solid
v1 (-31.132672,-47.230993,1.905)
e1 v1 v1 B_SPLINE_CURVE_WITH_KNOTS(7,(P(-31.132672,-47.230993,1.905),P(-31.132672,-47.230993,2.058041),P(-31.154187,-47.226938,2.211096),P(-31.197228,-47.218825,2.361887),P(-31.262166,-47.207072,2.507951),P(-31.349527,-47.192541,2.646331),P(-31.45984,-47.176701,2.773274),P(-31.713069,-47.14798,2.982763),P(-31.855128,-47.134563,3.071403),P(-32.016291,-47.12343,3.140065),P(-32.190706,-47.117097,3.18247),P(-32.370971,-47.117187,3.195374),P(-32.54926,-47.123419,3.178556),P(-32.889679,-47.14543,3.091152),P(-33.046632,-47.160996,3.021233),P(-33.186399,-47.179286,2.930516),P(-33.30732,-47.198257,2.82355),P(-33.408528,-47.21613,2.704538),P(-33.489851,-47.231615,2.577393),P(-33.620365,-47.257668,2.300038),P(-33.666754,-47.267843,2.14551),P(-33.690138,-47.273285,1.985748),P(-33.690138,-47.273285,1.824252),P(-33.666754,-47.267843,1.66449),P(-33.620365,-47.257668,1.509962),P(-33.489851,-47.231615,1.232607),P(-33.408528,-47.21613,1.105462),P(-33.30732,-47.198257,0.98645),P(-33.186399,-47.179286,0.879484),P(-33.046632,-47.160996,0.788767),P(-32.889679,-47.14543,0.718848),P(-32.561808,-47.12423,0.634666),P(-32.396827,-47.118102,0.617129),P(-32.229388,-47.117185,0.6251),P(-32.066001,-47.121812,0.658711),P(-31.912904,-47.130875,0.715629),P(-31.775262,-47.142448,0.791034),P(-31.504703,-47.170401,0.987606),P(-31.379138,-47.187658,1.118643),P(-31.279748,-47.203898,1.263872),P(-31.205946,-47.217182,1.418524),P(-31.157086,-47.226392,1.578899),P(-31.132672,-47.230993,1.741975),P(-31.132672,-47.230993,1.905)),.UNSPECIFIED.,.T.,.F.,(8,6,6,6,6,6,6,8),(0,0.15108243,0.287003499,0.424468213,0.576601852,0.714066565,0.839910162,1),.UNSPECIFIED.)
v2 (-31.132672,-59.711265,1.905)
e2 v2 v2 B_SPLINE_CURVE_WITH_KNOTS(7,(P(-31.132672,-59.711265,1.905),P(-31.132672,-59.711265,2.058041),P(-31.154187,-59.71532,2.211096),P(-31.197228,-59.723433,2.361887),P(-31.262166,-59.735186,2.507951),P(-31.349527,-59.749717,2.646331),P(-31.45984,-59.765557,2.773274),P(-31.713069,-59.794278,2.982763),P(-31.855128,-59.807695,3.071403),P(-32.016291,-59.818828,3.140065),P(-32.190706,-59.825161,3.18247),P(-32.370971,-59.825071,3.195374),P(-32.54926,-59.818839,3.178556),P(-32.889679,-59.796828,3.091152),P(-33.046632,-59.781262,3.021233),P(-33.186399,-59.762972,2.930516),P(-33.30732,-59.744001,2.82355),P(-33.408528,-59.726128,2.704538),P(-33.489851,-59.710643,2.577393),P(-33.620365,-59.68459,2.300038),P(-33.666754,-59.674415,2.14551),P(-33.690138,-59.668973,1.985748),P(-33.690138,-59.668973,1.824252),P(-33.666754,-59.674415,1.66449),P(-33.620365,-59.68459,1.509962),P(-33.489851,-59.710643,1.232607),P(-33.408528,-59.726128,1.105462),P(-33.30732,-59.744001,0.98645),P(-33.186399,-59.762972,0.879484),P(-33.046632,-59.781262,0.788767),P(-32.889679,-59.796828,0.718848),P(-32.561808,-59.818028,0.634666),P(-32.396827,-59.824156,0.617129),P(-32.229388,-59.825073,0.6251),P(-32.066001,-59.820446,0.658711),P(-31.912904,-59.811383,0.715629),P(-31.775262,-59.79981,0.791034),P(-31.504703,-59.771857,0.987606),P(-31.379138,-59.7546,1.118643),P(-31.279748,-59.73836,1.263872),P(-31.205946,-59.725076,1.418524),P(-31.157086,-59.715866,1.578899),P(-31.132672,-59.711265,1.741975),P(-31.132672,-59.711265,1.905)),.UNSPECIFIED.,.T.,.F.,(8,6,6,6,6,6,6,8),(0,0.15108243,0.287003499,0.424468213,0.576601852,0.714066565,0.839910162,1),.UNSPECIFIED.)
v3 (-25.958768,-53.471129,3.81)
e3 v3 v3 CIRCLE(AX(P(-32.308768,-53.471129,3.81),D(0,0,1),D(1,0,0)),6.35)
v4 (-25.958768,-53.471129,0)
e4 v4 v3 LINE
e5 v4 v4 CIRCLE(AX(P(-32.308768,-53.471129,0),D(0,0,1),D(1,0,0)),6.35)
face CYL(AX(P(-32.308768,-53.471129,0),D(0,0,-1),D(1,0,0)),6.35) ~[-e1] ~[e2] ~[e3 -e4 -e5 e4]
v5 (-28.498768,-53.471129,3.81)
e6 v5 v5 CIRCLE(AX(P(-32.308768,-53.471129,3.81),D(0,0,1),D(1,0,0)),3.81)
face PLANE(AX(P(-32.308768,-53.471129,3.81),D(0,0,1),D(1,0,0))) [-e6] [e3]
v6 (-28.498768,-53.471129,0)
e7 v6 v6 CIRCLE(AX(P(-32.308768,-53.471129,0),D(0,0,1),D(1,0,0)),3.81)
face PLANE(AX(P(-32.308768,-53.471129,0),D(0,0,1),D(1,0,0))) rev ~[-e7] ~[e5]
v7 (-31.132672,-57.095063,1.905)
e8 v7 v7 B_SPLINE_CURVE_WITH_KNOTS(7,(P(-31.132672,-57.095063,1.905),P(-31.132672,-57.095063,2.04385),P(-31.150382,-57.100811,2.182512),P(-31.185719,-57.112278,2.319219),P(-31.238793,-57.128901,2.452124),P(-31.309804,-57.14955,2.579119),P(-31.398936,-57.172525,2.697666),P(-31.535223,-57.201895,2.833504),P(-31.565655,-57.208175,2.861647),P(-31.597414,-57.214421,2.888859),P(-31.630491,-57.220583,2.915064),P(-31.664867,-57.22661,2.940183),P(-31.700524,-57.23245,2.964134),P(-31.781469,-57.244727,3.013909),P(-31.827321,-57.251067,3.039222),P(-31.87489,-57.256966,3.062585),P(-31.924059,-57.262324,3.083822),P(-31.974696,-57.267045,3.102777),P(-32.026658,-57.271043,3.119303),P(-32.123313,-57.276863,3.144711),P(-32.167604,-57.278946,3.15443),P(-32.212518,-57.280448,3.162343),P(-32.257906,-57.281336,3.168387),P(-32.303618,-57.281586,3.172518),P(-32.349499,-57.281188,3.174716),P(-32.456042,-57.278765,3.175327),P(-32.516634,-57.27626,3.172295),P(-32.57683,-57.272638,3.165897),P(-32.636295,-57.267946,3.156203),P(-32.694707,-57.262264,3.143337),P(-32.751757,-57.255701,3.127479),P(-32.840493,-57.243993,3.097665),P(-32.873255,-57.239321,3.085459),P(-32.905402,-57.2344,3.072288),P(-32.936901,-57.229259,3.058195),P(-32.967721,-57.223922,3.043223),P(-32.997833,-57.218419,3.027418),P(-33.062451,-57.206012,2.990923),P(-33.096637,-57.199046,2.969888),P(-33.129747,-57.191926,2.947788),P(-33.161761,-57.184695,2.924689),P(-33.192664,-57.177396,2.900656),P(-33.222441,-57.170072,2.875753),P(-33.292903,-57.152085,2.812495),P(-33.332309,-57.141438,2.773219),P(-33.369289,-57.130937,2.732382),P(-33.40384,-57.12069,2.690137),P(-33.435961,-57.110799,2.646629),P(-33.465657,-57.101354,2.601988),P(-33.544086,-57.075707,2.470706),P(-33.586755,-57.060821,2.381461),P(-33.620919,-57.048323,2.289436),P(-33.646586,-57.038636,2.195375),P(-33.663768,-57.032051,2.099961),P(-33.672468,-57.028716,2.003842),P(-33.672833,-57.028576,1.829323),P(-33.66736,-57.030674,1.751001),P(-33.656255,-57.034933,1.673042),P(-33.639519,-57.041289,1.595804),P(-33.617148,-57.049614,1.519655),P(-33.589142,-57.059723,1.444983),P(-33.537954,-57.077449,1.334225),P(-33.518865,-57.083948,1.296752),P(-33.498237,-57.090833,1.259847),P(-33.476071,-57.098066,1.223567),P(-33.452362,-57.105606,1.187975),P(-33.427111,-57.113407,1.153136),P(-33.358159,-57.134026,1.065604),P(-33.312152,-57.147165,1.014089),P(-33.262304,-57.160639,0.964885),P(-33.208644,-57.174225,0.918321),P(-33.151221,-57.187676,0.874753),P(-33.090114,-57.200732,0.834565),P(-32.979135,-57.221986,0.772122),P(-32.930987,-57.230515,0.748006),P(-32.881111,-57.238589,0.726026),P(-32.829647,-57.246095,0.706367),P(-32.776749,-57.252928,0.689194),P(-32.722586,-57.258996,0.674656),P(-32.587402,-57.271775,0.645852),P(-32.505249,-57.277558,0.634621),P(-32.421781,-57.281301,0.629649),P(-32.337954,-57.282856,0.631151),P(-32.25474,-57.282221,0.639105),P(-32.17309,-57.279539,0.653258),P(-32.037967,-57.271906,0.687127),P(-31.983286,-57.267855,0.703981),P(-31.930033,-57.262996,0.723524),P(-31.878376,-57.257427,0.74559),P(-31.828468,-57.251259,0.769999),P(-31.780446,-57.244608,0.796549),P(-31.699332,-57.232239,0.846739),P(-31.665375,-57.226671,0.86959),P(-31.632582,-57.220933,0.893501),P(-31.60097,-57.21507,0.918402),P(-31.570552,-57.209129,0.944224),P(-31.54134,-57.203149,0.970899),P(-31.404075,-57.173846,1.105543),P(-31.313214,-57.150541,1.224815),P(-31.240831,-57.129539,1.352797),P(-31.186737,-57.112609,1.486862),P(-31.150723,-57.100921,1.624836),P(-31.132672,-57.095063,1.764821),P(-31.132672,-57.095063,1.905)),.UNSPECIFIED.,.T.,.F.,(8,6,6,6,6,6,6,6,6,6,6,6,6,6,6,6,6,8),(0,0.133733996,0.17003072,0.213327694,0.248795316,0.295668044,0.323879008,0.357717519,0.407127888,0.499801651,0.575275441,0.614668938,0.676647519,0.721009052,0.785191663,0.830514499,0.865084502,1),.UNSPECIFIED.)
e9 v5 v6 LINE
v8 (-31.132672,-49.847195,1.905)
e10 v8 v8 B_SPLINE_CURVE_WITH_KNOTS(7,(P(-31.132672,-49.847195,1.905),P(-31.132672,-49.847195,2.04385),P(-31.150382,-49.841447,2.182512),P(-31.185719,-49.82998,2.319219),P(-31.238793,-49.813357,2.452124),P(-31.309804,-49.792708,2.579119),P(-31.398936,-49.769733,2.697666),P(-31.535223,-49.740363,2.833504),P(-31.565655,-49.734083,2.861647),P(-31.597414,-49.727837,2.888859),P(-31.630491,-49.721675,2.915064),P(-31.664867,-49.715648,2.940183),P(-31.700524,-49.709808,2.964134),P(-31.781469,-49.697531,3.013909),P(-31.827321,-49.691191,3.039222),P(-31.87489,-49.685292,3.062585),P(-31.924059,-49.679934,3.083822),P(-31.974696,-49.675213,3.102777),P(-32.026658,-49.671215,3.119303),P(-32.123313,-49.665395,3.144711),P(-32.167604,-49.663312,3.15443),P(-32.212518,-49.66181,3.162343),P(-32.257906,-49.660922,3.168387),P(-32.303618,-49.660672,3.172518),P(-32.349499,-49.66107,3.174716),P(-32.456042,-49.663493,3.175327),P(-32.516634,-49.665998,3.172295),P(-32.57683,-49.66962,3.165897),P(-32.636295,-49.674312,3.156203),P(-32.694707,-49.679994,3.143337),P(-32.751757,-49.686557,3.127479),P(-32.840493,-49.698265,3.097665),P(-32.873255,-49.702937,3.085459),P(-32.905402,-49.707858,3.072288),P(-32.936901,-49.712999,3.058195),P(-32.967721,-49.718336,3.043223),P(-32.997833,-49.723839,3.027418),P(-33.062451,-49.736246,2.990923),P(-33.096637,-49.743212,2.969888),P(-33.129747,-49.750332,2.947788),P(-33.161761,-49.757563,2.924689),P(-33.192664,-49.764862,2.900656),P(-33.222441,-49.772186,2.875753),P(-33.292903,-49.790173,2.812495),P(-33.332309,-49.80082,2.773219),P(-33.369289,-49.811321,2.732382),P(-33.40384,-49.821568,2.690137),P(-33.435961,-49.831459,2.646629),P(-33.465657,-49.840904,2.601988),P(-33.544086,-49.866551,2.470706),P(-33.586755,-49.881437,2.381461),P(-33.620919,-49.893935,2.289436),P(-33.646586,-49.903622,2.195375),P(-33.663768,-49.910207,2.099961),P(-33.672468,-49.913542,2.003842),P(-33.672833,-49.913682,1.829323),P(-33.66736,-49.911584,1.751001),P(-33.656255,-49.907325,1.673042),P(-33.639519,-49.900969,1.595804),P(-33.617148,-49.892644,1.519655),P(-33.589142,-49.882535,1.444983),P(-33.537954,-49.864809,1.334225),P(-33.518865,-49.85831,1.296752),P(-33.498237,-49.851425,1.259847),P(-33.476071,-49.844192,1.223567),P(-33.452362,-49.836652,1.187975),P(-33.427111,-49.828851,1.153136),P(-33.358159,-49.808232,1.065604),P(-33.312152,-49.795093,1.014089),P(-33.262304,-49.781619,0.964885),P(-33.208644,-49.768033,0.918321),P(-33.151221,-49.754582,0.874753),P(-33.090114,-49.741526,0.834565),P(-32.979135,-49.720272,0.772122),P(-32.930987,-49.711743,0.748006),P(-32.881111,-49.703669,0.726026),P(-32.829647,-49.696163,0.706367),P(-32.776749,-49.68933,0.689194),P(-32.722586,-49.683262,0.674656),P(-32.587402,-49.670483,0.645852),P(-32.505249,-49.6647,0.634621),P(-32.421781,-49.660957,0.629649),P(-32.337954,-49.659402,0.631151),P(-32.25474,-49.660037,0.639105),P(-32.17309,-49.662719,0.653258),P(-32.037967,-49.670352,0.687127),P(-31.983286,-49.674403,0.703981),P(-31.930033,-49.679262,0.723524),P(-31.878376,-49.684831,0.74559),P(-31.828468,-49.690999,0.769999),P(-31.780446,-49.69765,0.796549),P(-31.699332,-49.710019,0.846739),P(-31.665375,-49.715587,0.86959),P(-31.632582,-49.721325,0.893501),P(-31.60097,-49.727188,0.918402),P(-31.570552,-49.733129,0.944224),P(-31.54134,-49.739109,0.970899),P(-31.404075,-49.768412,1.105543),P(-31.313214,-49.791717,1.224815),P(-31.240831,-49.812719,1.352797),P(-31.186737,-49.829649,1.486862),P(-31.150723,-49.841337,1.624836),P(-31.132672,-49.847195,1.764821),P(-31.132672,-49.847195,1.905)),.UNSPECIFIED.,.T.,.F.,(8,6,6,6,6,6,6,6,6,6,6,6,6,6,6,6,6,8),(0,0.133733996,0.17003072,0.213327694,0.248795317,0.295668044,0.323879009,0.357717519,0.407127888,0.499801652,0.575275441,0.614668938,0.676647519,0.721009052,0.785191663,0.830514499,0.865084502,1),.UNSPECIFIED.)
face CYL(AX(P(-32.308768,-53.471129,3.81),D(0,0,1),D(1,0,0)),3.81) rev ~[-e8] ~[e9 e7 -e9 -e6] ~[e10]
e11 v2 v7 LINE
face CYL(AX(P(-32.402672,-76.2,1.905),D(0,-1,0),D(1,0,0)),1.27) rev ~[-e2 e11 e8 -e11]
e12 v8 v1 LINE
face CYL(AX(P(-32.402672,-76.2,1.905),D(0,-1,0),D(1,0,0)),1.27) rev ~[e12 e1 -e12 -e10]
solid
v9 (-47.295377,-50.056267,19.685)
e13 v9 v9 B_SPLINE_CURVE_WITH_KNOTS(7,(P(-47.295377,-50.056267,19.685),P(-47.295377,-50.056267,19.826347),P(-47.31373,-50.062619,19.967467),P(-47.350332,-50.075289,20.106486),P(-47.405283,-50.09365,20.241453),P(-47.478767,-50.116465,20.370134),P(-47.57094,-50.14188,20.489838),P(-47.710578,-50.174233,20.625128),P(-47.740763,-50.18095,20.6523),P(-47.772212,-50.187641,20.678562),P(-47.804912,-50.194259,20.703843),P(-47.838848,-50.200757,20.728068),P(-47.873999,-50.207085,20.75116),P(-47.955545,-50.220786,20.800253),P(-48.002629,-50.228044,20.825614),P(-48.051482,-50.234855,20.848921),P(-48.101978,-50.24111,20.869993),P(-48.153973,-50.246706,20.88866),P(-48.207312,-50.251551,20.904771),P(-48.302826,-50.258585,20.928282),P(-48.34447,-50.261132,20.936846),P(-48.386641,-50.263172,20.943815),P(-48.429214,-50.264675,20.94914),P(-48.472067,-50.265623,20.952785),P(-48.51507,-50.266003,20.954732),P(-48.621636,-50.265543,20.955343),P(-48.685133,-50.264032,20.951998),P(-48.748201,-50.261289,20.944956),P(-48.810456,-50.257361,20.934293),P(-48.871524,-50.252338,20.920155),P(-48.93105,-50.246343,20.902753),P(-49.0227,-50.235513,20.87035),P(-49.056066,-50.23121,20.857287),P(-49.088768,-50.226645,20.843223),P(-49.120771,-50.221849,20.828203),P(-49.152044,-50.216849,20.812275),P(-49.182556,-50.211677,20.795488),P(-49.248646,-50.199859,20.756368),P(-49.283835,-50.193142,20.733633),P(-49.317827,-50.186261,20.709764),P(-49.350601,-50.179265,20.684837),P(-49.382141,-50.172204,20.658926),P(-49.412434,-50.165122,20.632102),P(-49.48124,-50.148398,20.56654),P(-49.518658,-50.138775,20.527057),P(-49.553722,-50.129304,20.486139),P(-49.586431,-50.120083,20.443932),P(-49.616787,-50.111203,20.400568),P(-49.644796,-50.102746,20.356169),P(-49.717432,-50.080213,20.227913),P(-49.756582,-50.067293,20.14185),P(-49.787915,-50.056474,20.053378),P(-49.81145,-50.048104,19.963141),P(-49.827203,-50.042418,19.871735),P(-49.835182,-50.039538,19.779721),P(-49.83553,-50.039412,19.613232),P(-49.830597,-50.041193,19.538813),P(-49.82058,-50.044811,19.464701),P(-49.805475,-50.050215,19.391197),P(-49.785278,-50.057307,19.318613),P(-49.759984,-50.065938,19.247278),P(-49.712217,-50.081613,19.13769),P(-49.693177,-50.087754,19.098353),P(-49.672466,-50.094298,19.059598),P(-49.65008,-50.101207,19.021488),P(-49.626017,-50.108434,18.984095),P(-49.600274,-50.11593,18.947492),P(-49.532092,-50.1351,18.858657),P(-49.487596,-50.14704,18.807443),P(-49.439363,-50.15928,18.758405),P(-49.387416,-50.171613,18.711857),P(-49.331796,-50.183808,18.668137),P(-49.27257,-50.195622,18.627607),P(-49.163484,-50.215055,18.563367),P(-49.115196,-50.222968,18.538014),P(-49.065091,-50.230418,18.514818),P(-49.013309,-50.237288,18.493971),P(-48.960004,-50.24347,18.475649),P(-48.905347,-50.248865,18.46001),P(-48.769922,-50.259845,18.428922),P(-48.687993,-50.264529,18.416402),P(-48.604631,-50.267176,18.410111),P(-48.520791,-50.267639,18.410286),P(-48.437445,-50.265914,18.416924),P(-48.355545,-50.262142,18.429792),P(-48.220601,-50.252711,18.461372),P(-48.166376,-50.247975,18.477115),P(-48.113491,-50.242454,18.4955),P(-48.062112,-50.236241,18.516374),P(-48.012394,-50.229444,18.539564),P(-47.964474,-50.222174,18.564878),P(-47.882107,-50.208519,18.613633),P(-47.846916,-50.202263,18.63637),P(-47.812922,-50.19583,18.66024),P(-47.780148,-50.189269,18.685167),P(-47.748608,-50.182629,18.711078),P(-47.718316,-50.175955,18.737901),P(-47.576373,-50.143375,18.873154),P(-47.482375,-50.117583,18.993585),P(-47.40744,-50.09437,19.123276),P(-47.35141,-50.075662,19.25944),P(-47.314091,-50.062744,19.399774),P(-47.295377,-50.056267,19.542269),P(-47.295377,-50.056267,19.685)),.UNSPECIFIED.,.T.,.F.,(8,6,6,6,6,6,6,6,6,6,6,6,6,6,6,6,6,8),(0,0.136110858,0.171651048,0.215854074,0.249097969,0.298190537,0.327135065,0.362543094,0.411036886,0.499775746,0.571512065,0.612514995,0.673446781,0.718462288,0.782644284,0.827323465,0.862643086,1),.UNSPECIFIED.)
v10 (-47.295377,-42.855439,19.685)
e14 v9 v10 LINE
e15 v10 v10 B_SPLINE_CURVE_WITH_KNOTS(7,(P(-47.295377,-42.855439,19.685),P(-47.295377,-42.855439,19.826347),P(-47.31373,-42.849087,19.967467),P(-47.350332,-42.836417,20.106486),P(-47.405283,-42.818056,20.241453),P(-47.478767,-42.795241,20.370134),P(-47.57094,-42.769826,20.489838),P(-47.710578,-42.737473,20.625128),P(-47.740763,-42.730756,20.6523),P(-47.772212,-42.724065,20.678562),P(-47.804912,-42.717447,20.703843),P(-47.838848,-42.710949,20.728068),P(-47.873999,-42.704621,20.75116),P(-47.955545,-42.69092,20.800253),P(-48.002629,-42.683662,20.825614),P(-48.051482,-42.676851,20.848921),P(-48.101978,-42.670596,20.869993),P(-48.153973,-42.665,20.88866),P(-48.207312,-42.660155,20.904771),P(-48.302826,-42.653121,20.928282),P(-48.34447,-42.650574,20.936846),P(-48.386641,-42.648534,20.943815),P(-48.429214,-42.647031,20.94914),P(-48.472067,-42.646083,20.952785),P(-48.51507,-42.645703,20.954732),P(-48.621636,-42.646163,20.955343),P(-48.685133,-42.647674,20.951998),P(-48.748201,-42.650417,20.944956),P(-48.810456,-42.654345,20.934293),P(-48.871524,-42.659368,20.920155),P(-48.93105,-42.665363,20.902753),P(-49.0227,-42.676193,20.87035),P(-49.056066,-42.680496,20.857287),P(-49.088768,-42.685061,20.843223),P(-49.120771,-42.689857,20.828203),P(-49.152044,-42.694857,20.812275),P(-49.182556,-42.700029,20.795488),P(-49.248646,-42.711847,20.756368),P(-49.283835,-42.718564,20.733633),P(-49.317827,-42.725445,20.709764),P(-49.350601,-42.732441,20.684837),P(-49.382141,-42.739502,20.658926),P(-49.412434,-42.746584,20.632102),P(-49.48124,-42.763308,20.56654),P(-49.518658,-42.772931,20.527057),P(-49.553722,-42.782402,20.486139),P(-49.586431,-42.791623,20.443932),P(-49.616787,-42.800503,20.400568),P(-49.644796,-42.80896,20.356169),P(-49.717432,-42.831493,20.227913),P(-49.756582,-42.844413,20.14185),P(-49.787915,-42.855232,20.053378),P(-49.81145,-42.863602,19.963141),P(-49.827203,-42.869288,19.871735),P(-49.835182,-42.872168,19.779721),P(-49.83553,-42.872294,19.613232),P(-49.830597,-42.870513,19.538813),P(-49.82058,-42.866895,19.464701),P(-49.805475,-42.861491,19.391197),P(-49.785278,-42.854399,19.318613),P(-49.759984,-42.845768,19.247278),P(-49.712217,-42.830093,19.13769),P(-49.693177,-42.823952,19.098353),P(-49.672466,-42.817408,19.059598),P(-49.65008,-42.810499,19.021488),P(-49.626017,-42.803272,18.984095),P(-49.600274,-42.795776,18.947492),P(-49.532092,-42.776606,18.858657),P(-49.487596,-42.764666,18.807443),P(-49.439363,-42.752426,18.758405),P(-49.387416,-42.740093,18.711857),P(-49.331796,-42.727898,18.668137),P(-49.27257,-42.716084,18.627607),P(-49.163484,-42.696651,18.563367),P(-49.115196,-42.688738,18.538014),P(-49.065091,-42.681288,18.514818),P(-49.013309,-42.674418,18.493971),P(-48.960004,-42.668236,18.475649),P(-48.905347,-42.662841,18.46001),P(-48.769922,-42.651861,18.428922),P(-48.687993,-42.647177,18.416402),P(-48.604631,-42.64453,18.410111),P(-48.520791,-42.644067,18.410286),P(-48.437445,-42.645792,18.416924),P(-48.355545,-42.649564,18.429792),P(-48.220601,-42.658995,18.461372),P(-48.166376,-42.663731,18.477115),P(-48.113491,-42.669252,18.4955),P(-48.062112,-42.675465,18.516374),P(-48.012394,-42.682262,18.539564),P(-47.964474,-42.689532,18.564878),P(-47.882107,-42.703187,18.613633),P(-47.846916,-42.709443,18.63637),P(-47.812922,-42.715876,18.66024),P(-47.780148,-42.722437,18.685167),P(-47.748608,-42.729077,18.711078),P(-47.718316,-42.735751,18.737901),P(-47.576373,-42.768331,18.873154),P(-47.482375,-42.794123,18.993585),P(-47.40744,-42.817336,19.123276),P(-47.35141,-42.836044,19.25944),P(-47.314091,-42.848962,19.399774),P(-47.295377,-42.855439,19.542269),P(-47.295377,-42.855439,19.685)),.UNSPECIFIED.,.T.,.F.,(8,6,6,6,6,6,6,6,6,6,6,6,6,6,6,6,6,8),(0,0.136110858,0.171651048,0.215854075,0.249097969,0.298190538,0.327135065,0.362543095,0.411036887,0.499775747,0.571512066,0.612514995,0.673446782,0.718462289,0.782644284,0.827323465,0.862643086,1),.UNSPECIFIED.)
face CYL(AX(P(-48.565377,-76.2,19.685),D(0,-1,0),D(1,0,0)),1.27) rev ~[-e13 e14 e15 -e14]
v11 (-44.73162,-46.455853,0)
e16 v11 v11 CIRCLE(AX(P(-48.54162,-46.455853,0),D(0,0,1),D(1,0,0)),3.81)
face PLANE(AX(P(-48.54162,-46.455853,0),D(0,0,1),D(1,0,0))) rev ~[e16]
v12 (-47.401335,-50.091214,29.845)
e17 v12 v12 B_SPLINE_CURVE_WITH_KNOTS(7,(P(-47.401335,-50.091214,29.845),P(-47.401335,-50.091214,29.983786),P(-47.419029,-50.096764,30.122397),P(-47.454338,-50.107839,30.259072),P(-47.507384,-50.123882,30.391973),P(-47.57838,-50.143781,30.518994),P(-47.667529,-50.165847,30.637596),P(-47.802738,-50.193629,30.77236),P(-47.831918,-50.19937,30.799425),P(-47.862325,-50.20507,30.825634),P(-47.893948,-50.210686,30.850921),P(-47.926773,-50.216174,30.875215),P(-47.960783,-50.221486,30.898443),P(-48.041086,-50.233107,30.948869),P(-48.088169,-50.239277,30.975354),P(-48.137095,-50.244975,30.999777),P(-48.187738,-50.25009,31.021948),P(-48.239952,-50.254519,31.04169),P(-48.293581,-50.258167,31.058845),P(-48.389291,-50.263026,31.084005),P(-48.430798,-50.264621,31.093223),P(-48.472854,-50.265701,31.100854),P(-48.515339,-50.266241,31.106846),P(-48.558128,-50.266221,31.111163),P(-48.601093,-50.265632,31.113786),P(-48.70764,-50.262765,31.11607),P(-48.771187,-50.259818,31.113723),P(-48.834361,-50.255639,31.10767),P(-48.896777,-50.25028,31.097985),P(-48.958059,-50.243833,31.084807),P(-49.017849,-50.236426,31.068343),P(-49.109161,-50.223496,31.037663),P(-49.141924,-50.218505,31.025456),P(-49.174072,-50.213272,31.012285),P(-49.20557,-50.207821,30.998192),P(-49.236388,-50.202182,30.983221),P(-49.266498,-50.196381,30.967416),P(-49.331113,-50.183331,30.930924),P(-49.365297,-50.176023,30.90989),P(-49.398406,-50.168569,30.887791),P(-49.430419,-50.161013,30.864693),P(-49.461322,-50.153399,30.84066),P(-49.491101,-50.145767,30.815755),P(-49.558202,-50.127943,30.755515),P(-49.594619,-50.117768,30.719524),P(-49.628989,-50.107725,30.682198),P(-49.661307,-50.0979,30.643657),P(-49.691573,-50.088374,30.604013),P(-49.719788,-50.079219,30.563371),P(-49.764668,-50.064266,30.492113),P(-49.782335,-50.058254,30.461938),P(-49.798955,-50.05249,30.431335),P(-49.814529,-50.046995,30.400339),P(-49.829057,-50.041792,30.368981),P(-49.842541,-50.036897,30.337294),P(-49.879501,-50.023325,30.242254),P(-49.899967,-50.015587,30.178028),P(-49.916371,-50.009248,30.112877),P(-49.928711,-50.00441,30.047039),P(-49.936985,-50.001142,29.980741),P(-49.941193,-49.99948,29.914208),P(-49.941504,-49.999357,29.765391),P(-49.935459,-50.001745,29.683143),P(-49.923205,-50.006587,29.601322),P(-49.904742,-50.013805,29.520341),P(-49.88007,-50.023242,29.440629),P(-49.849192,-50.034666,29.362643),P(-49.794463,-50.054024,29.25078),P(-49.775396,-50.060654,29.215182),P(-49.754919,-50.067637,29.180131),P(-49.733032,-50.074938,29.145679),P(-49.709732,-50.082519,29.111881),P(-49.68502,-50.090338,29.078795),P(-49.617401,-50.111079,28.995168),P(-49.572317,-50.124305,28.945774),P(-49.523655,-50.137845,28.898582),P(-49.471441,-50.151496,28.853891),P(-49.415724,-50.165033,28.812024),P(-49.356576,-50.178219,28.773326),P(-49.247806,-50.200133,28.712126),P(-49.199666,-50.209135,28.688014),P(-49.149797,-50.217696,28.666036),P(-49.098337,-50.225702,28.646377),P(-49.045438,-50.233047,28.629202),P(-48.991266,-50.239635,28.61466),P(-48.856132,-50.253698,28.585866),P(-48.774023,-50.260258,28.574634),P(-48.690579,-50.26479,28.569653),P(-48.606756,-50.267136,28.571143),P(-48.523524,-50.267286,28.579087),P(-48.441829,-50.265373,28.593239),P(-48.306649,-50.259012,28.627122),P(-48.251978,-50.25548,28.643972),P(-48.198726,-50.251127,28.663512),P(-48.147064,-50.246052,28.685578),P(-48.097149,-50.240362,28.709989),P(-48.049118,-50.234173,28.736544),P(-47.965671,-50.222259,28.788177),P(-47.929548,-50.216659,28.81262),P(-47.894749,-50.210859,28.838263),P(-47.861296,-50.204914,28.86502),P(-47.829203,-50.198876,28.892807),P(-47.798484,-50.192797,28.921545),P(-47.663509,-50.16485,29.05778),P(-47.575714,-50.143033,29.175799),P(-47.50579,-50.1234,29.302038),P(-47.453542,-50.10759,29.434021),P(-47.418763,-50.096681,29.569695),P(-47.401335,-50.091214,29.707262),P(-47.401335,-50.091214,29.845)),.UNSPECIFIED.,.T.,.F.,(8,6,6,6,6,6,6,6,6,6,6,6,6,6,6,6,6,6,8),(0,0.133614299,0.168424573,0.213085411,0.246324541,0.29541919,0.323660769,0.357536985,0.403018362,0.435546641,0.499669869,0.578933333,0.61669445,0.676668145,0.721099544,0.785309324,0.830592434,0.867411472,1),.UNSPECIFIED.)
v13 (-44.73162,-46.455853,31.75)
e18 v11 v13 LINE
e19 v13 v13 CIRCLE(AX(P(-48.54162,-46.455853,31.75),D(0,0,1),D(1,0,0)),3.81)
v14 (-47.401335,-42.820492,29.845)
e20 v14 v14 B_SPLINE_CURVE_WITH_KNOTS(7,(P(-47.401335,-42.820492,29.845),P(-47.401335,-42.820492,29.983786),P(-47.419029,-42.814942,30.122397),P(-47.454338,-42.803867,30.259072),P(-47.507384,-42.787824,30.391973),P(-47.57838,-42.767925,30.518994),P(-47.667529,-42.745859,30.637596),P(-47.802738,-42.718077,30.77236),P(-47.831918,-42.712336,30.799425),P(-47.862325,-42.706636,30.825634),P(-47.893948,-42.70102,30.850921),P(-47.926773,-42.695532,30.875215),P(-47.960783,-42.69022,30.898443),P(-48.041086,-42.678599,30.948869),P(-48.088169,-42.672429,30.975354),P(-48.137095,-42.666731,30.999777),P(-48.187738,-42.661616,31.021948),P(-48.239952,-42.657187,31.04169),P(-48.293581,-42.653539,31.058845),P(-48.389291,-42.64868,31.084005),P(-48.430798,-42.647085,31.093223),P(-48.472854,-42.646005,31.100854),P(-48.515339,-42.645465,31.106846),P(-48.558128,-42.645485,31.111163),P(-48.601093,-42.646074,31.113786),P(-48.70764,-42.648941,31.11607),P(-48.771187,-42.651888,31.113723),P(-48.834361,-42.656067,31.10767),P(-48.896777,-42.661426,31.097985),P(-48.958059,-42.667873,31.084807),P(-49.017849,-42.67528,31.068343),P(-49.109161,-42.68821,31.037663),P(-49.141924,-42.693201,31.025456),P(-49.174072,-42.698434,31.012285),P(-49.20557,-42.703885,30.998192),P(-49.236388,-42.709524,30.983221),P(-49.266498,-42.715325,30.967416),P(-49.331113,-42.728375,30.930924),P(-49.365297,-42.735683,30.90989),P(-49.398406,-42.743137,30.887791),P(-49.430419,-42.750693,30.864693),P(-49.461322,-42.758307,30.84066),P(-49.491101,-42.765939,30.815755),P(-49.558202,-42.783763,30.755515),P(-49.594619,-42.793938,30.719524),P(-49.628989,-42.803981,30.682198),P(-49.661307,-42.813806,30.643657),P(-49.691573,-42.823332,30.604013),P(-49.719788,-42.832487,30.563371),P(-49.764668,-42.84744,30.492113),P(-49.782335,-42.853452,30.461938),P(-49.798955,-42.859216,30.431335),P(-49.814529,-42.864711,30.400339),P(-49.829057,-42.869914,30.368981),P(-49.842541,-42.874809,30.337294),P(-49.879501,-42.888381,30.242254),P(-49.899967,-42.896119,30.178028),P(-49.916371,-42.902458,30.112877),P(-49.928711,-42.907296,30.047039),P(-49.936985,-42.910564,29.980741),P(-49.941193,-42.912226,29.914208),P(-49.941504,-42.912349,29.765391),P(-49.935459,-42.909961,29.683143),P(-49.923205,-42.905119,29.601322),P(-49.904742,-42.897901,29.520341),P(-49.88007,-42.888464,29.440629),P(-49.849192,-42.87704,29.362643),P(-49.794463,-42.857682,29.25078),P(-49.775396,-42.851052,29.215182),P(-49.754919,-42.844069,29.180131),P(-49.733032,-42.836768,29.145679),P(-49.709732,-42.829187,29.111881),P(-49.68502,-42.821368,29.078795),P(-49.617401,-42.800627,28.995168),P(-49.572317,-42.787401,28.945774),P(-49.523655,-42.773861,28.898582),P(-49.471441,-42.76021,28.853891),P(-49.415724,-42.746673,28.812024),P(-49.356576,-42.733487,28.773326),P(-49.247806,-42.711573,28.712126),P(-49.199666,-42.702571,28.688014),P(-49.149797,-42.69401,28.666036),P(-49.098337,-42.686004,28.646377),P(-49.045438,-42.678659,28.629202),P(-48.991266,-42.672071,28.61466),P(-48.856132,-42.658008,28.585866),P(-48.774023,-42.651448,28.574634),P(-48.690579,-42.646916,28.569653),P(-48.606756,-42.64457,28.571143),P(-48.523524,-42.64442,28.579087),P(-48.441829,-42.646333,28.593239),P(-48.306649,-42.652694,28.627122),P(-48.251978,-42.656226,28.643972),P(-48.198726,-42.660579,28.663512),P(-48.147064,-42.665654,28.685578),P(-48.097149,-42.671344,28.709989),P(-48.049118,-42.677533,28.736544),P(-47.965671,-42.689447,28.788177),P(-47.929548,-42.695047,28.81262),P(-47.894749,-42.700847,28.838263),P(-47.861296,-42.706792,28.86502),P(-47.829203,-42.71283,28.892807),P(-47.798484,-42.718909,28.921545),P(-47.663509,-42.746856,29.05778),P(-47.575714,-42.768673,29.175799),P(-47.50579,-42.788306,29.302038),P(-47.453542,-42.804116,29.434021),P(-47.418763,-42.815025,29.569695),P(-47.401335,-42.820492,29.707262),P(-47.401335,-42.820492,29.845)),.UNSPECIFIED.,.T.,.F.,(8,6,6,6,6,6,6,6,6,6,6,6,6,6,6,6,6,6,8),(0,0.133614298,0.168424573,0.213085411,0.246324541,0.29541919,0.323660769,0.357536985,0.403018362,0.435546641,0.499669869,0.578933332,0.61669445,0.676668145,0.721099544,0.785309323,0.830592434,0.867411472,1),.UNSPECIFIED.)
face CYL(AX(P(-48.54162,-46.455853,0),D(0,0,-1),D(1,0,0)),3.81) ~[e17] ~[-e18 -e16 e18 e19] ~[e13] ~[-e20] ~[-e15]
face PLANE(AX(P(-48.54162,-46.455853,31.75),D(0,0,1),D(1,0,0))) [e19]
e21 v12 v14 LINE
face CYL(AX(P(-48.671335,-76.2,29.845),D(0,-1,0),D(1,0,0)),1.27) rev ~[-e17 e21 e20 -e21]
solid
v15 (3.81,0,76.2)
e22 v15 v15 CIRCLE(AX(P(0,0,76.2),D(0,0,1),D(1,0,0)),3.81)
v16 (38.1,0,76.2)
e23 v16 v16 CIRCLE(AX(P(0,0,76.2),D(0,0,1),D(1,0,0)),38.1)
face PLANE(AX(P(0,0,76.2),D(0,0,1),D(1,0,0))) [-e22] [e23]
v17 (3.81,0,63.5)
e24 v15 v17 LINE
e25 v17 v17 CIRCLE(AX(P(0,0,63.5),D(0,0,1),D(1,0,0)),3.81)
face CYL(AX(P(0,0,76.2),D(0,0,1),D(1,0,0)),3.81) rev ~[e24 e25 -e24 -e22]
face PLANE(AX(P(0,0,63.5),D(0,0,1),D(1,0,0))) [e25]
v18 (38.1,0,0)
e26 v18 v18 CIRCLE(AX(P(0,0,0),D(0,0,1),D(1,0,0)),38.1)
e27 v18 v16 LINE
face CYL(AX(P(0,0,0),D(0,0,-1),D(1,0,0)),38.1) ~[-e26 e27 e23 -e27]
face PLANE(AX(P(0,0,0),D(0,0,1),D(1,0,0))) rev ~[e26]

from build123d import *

# Parameters (mm, degrees)
F0_R      = 38.1
F1_DEPTH  = 76.2
F2_R      = 3.81
F3_DEPTH  = 12.7
F4_R      = 3.81
F5_DEPTH  = 31.75
F6_R      = 6.35
F7_DEPTH  = 3.81
F8_R      = 3.81
F9_DEPTH  = 5.08
F11_R     = 1.27
F12_DEPTH = 38.1
F13_R     = 1.27
F15_DEPTH = 38.1
F14_R     = 1.27
F16_DEPTH = 38.1


with BuildPart() as f1:
    # F0 (on Top) → F1 (new body)
    with BuildSketch(Plane.XY):
        Circle(F0_R)
    extrude(amount=F1_DEPTH)

    # F2 (on face) → F3 (cut)
    with BuildSketch(Plane.XY.offset(76.2)):
        Circle(F2_R)
    extrude(amount=-F3_DEPTH, mode=Mode.SUBTRACT)


with BuildPart() as f5:
    # F4 (on Top) → F5 (new body)
    with BuildSketch(Plane.XY):
        with Locations((-48.54162, -46.455853)):
            Circle(F4_R)
    extrude(amount=F5_DEPTH)

    # F13 (on offset) → F15 (cut)
    with BuildSketch(Plane.XZ.offset(76.2)):
        with Locations((-48.671335, 29.845)):
            Circle(F13_R)
    extrude(amount=-F15_DEPTH, mode=Mode.SUBTRACT)

    # F14 (on offset) → F16 (cut)
    with BuildSketch(Plane.XZ.offset(76.2)):
        with Locations((-48.565377, 19.685)):
            Circle(F14_R)
    extrude(amount=-F16_DEPTH, mode=Mode.SUBTRACT)


with BuildPart() as f7:
    # F6 (on Top) → F7 (new body)
    with BuildSketch(Plane.XY):
        with Locations((-32.308768, -53.471129)):
            Circle(F6_R)
    extrude(amount=F7_DEPTH)

    # F8 (on face) → F9 (cut)
    with BuildSketch(Plane.XY.offset(3.81)):
        with Locations((-32.308768, -53.471129)):
            Circle(F8_R)
    extrude(amount=-F9_DEPTH, mode=Mode.SUBTRACT)

    # F11 (on offset) → F12 (cut)
    with BuildSketch(Plane.XZ.offset(76.2)):
        with Locations((-32.402672, 1.905)):
            Circle(F11_R)
    extrude(amount=-F12_DEPTH, mode=Mode.SUBTRACT)


solid = Compound([f1.part, f5.part, f7.part])
